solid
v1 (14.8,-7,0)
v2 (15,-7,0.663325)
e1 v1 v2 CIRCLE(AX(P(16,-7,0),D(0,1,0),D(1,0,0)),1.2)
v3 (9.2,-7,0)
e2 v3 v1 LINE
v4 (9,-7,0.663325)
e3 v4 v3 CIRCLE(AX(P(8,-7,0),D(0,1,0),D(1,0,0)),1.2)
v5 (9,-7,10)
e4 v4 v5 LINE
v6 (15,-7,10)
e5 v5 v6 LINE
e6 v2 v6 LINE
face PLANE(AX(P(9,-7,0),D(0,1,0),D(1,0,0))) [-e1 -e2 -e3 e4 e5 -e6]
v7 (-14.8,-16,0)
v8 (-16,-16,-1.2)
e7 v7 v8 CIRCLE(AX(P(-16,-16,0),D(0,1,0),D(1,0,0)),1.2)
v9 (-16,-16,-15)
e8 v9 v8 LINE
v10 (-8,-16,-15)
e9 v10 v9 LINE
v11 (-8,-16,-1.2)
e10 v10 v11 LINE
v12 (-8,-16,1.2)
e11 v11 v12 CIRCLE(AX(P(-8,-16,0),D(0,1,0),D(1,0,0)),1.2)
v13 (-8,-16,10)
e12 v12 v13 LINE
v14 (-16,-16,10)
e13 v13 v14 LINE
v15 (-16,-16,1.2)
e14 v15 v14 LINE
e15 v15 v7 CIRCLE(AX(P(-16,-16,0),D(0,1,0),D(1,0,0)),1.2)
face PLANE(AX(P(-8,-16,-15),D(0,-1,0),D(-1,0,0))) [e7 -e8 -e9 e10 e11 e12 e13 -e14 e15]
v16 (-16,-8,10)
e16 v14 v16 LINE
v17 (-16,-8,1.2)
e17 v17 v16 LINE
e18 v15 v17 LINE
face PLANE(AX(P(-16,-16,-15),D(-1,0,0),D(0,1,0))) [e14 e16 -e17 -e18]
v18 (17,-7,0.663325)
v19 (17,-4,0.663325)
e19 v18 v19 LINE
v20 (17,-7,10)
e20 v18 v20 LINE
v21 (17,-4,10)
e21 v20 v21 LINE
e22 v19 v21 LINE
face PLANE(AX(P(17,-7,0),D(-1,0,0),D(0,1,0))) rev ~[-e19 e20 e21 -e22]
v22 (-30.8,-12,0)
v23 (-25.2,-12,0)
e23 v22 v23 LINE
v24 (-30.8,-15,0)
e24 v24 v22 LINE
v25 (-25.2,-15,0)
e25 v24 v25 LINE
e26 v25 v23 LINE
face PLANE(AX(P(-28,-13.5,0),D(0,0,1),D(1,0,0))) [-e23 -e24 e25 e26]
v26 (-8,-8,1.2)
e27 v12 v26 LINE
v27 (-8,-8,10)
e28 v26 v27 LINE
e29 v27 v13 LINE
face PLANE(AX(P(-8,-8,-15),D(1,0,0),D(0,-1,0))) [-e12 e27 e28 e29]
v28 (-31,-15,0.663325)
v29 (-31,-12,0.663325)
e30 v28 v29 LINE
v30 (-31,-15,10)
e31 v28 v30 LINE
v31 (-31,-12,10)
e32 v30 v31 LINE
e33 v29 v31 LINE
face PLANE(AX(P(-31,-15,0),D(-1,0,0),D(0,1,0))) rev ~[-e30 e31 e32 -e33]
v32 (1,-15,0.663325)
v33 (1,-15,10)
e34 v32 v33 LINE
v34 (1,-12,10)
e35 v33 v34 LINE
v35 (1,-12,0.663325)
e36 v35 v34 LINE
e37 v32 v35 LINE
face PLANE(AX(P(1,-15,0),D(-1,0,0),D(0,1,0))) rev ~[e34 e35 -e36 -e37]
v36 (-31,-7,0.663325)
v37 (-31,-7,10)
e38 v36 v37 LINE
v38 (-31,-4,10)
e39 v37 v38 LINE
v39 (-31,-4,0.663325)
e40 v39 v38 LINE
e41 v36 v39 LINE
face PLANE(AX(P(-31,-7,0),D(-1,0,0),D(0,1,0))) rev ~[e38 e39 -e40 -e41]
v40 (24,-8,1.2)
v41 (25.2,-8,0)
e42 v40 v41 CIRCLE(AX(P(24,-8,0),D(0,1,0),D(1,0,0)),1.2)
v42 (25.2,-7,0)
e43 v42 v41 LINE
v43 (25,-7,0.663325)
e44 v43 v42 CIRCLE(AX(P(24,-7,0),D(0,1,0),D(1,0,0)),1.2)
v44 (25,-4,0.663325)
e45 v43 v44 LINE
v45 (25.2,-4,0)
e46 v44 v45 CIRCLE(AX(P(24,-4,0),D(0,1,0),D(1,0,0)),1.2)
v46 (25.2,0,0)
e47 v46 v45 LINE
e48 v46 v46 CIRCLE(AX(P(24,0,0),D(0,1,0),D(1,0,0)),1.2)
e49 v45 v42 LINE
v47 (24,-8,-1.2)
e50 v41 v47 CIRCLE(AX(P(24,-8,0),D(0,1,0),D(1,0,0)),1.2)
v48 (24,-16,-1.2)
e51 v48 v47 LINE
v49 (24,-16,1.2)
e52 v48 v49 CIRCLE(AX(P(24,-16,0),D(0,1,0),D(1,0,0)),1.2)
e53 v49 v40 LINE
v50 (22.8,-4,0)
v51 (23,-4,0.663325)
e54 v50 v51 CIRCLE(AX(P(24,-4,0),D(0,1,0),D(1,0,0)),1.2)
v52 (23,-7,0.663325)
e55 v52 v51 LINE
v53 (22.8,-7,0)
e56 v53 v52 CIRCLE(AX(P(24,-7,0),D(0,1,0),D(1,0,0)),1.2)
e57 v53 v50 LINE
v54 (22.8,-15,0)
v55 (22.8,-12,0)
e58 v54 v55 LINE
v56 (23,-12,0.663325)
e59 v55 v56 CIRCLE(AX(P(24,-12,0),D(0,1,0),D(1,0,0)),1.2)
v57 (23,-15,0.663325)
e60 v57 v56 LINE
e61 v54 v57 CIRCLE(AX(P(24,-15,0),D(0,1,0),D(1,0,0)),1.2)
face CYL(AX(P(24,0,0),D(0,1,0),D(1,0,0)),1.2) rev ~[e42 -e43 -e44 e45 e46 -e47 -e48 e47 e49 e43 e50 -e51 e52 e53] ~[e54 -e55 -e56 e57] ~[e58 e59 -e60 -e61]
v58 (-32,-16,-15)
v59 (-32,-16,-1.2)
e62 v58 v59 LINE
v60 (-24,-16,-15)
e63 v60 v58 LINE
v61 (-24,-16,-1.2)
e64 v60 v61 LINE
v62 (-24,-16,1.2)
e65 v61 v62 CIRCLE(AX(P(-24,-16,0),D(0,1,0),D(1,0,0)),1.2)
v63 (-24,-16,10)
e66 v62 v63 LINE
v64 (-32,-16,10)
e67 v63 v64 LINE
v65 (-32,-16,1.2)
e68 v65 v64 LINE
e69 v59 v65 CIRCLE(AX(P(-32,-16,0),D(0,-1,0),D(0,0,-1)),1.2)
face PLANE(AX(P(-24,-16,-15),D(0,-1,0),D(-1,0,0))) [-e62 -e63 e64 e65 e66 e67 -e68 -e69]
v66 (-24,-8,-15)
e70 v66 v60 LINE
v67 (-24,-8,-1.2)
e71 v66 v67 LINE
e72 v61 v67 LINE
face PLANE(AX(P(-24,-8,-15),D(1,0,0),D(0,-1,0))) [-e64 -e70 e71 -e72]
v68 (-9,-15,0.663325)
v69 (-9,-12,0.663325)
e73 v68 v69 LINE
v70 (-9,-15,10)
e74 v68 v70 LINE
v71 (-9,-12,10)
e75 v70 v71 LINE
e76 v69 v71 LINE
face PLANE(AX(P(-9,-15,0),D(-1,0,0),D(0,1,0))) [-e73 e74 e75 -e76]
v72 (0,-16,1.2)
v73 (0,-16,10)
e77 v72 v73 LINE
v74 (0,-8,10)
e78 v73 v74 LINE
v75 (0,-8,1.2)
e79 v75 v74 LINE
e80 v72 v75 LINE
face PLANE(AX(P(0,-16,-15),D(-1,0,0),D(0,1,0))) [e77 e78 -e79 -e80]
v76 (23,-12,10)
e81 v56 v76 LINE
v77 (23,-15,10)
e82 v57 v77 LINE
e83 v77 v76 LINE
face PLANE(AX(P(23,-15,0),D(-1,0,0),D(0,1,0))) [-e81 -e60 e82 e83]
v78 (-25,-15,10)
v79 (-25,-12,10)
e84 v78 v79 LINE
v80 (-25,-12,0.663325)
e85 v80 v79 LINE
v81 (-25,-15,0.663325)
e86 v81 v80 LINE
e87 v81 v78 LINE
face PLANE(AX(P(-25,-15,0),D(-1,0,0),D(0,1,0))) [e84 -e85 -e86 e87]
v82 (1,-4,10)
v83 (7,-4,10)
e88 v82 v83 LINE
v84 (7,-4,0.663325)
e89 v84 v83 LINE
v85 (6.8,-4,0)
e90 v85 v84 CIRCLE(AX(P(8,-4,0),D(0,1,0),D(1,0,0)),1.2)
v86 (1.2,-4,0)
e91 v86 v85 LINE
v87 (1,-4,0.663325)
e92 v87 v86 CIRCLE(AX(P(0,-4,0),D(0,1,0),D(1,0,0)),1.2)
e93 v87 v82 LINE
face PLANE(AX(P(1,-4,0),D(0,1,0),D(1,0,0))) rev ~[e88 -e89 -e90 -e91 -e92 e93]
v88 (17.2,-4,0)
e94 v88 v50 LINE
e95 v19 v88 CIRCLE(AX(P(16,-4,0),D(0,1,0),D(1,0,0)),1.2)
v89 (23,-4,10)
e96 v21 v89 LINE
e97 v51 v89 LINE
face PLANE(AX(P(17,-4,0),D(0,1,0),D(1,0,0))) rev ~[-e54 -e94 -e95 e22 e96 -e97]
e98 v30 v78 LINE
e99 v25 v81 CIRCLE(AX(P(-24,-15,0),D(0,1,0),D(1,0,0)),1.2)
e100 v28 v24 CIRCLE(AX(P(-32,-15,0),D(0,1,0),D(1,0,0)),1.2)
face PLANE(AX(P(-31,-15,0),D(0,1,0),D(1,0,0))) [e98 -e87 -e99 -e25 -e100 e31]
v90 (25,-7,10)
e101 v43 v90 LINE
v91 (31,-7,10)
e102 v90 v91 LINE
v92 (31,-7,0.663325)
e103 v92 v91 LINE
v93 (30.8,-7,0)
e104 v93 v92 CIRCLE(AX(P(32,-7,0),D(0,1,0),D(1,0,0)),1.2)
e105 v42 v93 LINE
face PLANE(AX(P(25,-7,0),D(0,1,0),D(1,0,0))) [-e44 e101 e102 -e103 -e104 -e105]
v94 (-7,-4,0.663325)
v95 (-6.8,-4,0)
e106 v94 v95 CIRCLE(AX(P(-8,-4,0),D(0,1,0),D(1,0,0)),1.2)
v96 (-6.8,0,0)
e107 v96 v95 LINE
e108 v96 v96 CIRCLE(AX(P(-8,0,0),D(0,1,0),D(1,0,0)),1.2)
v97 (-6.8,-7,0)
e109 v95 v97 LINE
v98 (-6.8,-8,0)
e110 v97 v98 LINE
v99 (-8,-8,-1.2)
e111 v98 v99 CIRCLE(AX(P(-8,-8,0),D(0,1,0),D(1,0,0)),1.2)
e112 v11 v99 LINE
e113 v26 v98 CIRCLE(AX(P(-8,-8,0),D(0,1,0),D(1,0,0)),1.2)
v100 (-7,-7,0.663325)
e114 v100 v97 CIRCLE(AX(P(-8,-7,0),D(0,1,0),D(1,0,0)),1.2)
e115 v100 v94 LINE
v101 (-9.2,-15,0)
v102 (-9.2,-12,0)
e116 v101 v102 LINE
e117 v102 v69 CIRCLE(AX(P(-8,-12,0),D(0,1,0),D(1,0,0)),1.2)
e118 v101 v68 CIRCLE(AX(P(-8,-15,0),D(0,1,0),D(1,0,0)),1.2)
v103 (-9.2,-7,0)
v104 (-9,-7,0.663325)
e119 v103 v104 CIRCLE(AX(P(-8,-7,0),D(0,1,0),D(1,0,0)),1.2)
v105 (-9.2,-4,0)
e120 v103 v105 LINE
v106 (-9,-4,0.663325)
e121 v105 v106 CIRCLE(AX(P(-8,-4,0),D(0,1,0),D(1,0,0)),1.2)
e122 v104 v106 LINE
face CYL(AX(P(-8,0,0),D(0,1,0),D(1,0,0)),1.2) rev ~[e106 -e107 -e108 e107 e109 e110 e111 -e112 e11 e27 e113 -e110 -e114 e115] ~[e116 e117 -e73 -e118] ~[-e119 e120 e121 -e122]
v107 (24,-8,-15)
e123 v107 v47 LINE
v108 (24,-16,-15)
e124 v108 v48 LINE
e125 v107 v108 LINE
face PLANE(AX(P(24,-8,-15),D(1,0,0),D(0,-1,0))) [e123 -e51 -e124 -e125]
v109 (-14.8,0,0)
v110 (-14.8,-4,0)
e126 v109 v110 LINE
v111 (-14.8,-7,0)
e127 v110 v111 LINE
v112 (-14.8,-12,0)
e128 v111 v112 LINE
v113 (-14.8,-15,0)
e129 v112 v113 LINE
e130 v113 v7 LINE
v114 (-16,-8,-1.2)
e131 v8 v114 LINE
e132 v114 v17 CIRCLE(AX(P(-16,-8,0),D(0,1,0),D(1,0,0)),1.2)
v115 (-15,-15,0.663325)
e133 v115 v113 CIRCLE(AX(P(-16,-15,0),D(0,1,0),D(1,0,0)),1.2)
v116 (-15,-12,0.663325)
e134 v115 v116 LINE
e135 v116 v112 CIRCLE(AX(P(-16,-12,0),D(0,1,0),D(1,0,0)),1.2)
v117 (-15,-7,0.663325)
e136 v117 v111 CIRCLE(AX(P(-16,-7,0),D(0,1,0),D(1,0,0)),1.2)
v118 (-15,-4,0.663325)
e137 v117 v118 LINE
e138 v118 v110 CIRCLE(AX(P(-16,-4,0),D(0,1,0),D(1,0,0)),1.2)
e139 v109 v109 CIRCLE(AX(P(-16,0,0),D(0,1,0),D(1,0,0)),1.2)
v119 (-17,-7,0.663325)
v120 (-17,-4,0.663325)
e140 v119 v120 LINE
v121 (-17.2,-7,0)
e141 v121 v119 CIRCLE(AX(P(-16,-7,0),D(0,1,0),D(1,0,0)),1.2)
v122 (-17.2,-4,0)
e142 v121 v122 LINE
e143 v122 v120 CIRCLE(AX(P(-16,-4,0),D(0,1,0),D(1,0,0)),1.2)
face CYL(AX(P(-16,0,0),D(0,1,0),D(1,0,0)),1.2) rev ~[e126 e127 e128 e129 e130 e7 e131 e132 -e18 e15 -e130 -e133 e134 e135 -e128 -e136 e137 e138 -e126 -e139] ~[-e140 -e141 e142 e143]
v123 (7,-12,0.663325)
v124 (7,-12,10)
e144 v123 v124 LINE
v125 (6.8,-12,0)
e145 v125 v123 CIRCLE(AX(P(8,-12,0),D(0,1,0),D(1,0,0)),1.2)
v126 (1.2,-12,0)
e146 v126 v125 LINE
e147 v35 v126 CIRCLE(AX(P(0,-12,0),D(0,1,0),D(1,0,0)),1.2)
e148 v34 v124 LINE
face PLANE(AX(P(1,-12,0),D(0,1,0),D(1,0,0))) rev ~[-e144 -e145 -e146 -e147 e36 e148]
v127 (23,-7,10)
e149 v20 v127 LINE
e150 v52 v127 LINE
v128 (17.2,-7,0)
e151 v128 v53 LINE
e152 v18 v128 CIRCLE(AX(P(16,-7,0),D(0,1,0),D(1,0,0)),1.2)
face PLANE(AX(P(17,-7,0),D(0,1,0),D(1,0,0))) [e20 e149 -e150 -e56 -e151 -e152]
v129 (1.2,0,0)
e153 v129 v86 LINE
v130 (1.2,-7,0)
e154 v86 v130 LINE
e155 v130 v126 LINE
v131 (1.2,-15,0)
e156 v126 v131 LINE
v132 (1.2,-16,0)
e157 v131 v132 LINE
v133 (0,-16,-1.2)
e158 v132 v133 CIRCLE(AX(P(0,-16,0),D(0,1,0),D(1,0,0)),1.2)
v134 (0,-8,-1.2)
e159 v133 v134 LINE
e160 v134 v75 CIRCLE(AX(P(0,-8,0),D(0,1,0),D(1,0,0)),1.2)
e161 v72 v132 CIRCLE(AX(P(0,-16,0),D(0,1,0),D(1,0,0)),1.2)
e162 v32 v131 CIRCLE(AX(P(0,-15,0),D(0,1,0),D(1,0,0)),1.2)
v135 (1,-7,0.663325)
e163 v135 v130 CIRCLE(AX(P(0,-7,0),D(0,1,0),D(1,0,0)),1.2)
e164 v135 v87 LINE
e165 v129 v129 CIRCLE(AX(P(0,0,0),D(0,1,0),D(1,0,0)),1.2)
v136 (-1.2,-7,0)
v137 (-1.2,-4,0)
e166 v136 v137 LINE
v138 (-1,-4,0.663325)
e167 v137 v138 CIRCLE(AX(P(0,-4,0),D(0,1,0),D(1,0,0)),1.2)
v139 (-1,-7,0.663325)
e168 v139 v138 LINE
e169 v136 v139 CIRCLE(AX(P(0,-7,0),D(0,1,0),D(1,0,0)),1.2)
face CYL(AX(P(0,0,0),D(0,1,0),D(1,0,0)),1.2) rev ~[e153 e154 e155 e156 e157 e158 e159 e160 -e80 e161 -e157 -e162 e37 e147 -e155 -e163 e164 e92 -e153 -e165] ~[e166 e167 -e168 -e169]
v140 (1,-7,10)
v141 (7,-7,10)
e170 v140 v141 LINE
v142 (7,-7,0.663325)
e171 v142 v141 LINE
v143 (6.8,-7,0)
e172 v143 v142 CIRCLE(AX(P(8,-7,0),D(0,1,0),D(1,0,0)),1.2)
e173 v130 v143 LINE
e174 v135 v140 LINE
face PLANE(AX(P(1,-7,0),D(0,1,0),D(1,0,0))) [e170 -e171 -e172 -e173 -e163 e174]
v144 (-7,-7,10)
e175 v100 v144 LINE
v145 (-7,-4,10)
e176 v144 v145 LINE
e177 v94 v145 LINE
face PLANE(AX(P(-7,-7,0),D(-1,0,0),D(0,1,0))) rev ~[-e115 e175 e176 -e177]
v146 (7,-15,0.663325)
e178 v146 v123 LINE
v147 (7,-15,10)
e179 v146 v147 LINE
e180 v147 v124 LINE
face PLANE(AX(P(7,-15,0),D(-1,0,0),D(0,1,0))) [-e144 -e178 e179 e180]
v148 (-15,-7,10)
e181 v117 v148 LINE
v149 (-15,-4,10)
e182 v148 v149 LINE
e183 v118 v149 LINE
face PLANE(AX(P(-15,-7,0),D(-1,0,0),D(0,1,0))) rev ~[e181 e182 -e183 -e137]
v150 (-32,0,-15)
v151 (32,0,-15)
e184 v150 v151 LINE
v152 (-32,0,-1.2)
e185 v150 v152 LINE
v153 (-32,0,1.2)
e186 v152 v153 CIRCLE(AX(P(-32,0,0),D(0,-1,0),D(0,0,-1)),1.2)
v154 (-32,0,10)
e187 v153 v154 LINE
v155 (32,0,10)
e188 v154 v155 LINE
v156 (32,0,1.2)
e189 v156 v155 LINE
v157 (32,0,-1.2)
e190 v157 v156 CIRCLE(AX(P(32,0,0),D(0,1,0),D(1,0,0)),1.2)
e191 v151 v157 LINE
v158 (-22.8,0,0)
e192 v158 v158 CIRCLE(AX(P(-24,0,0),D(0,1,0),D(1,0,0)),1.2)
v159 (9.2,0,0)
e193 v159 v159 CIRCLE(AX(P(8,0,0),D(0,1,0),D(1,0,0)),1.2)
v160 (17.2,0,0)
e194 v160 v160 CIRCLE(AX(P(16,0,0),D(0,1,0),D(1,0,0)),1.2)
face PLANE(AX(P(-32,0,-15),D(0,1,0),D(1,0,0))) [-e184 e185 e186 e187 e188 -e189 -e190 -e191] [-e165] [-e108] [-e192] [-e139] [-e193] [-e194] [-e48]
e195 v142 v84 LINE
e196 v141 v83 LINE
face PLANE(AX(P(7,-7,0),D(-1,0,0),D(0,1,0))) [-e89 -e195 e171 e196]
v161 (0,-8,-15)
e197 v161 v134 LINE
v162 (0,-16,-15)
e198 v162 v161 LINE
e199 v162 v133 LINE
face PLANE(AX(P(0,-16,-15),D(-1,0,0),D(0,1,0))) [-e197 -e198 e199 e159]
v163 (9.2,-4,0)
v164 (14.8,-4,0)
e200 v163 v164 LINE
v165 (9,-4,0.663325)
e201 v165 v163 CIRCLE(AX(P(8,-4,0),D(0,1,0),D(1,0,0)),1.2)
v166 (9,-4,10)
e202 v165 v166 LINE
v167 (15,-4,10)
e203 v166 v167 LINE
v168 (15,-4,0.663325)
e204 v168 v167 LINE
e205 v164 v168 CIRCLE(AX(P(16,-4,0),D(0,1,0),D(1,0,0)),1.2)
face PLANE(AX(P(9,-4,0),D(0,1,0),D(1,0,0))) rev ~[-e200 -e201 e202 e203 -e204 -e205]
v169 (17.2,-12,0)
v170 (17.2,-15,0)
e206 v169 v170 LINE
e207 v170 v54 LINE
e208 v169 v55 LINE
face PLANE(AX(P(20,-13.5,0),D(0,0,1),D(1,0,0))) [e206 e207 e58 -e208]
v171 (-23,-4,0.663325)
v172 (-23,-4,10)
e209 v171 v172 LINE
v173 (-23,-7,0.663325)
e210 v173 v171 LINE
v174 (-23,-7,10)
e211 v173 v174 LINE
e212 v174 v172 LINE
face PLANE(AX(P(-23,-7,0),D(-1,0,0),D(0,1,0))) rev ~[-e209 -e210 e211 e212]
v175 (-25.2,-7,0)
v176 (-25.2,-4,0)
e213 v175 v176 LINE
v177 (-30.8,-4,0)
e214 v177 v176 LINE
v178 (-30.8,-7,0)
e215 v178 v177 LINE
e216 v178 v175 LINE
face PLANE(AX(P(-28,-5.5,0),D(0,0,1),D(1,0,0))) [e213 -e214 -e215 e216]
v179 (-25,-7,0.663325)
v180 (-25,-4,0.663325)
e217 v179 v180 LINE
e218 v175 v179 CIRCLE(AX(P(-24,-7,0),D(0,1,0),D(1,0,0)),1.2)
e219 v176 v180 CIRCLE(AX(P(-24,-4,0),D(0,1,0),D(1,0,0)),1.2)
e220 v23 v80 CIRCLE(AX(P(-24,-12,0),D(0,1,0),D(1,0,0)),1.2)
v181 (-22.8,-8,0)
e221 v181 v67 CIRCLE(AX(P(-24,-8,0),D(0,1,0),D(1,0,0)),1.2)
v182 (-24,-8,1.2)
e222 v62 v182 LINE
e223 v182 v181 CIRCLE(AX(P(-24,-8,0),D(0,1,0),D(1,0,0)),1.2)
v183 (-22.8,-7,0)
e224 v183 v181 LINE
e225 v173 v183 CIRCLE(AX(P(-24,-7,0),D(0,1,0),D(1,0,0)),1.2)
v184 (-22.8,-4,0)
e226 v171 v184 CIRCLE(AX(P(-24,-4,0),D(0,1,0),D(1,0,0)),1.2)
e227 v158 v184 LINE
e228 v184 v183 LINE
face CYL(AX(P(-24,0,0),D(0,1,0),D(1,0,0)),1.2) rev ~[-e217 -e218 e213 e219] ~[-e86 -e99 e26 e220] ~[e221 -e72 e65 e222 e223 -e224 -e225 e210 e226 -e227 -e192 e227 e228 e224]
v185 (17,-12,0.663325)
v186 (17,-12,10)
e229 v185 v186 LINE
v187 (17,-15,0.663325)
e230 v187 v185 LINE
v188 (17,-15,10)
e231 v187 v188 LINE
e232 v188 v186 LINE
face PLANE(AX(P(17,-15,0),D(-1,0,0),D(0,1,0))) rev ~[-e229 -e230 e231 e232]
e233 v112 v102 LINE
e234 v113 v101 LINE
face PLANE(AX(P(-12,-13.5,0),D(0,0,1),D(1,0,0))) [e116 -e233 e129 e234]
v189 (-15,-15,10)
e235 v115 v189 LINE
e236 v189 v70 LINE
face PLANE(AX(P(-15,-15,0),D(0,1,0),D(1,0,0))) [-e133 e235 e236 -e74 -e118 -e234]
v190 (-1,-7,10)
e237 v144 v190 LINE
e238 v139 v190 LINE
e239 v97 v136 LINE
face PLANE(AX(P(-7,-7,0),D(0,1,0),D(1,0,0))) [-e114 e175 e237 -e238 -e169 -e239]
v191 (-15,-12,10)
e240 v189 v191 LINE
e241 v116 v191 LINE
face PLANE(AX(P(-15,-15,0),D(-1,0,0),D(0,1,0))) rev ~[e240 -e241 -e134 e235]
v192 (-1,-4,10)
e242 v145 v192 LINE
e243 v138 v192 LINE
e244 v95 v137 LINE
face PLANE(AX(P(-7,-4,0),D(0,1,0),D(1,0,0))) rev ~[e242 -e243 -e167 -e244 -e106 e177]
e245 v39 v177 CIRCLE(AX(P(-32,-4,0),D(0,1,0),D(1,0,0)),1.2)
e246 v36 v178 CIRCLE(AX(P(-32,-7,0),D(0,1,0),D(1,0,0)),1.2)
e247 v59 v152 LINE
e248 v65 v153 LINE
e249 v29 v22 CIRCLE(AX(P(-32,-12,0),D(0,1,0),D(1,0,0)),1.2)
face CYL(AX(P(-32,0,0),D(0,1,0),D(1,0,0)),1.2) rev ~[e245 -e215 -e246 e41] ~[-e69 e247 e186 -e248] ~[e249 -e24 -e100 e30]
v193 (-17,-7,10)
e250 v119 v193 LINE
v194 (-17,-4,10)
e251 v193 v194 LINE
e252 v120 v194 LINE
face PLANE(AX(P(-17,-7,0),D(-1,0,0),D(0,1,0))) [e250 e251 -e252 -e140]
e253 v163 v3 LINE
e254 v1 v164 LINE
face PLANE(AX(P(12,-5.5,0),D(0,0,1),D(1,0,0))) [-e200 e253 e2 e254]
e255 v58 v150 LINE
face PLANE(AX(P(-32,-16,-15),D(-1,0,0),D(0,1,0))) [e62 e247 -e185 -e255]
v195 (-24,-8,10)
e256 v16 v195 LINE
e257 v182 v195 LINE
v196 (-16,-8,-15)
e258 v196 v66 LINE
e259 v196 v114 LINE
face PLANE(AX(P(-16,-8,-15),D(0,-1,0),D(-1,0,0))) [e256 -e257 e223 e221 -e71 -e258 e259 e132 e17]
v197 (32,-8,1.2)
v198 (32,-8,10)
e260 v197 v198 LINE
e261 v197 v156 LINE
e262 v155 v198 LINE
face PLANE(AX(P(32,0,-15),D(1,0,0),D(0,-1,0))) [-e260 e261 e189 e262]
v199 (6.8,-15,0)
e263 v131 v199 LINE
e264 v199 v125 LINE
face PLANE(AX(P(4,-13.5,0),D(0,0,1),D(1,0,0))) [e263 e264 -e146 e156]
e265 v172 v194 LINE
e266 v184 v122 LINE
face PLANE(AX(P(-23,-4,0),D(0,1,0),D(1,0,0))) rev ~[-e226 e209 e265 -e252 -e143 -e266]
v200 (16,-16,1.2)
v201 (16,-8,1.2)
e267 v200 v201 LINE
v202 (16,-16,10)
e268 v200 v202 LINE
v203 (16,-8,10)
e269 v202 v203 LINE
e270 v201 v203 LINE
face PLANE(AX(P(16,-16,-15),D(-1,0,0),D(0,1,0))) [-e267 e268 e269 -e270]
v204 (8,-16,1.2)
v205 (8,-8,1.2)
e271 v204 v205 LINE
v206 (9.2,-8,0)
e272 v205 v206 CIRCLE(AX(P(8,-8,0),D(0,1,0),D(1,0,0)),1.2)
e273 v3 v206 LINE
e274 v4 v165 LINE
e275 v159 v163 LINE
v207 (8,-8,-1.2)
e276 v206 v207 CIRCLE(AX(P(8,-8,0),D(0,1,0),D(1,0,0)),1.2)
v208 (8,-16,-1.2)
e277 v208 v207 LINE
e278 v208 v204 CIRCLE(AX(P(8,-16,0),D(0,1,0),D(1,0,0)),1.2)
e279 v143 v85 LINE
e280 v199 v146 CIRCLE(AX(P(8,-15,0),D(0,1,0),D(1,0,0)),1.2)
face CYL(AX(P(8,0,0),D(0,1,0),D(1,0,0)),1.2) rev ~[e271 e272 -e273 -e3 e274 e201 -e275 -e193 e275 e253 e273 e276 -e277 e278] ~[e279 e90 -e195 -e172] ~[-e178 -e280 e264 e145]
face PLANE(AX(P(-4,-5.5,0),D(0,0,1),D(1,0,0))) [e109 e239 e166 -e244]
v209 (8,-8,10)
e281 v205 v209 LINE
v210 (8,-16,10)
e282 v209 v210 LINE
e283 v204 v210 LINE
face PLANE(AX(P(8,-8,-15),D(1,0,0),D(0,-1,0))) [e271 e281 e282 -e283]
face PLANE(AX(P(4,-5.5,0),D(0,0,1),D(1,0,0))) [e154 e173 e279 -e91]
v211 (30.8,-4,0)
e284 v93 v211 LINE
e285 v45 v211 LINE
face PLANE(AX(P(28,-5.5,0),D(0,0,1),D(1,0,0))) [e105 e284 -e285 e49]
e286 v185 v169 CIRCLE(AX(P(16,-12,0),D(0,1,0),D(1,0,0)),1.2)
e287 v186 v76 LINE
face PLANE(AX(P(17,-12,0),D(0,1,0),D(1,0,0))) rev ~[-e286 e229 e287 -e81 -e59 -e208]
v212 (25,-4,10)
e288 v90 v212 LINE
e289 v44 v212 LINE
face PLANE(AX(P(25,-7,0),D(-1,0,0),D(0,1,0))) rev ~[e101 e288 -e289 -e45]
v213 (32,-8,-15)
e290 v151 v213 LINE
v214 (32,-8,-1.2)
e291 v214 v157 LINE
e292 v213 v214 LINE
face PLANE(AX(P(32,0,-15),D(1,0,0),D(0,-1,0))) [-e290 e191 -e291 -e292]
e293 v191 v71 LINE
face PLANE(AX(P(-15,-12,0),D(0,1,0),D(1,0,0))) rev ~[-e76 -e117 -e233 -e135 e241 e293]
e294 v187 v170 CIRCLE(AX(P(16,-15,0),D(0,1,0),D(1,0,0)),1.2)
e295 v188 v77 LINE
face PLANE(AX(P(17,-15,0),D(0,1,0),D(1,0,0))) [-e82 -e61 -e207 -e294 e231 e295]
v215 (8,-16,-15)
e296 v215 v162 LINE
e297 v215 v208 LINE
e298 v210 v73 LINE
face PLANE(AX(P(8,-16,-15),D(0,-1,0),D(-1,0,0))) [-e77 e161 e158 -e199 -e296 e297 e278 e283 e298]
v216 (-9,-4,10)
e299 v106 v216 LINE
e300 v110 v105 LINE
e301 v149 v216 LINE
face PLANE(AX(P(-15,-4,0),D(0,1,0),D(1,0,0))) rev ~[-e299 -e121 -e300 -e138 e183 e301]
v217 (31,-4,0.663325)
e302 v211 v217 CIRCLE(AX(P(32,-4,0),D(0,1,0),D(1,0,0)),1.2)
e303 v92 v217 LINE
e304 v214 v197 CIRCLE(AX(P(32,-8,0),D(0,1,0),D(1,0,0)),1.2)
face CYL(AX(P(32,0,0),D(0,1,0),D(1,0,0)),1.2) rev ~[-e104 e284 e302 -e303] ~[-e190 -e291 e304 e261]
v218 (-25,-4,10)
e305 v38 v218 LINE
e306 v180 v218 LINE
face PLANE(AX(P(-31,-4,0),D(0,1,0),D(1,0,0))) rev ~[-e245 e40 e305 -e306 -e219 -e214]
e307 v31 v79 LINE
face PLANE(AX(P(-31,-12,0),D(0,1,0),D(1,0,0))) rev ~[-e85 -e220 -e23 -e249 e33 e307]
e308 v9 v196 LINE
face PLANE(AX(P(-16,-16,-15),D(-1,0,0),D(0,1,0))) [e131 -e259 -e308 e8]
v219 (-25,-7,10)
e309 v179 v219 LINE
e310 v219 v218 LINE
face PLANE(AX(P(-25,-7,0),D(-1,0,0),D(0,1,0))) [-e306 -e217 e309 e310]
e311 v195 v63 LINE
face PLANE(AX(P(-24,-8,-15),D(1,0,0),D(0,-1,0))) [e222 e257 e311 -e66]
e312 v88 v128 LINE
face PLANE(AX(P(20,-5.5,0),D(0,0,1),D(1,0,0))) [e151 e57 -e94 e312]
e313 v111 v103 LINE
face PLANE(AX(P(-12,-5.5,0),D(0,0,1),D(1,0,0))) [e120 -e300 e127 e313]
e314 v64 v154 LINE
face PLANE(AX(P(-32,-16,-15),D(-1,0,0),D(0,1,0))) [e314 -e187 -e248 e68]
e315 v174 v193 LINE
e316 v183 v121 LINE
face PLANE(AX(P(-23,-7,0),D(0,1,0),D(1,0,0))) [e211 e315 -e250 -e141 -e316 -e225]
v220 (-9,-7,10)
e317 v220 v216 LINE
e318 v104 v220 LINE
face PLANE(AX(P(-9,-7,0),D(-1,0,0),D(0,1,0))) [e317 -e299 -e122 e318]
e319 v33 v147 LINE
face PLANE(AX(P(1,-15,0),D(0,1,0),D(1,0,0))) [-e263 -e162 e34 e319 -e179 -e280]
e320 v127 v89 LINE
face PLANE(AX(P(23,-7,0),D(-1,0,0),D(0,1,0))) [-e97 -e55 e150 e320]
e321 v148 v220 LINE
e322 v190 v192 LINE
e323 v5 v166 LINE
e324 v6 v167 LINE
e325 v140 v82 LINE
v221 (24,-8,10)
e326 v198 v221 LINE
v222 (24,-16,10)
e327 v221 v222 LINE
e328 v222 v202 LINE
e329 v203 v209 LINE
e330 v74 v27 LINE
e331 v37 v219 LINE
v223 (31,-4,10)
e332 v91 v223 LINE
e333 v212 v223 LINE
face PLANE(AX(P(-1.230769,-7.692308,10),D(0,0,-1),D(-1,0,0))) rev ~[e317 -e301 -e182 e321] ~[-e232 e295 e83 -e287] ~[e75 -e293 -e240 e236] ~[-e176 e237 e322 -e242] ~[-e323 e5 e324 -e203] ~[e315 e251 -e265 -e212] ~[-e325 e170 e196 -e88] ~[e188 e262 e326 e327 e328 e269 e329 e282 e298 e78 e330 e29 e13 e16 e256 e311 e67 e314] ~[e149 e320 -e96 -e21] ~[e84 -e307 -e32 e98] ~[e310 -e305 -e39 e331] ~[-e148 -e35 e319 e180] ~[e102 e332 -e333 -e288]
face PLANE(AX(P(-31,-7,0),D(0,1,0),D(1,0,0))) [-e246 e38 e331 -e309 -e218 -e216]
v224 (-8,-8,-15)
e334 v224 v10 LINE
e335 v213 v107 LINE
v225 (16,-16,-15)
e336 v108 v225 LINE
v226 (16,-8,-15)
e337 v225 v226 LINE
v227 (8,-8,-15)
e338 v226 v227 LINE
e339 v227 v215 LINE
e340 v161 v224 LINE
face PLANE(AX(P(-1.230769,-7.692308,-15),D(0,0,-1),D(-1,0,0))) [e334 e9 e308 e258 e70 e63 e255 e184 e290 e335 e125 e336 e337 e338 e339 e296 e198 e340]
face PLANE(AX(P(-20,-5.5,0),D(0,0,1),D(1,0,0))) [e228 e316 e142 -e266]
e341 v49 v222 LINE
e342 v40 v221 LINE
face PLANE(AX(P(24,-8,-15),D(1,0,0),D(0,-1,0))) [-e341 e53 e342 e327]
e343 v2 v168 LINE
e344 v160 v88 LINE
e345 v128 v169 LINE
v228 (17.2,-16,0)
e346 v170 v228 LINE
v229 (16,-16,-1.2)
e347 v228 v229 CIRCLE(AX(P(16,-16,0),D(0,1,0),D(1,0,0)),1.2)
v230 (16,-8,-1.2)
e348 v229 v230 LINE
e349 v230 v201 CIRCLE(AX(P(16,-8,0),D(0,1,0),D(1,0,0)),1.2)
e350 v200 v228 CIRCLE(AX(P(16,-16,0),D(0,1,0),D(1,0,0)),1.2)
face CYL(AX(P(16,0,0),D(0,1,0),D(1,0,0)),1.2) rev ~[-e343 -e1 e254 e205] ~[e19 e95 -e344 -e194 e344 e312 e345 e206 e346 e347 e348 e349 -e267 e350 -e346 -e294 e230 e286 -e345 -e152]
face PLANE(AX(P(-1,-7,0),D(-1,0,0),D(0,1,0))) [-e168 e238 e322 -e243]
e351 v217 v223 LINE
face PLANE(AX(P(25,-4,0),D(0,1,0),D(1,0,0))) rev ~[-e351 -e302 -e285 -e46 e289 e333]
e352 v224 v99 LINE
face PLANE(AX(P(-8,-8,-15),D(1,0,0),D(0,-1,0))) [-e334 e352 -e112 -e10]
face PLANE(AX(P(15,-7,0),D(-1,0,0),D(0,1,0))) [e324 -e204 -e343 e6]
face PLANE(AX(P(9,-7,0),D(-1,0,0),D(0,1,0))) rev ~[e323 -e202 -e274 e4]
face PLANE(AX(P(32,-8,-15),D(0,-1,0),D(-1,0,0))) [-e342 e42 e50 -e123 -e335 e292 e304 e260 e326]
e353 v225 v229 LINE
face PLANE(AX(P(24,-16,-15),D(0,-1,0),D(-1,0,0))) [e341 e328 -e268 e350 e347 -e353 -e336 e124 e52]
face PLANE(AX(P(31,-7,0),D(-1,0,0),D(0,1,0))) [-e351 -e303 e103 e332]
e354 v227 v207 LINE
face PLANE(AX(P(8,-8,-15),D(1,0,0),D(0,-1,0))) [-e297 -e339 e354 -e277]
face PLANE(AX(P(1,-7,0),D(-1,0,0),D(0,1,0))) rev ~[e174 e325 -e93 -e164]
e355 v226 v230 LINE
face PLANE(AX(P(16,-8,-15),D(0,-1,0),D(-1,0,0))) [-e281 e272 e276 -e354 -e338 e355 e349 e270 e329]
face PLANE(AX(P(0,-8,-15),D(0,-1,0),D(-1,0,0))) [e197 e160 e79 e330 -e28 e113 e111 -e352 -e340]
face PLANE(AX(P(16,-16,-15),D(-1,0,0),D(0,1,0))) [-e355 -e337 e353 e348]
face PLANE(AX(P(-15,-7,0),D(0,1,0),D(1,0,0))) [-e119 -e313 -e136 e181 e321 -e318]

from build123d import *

# Parameters (mm, degrees)
BOSS_EXTRUDE1_DEPTH      = 10
BOSS_EXTRUDE1_DEPTH_BACK = 15
SKETCH2_R                = 1.2
CUT_EXTRUDE1_DEPTH       = 39.794329483
LPATTERN1_COUNT          = 9
LPATTERN1_PITCH          = 8
CUT_EXTRUDE2_START       = -10
SKETCH3_W                = 6
SKETCH3_H                = 3
CUT_EXTRUDE2_DEPTH       = 10
LPATTERN2_COUNT          = 8
LPATTERN2_PITCH          = 8
LPATTERN2_COUNT_DIR2     = 2
LPATTERN2_PITCH_DIR2     = 8


with BuildPart() as part:
    # Sketch1 → Boss-Extrude1 (new, two sides: drawn at the far end of the back side and taken through both)
    with BuildSketch(Plane.XY.offset(-BOSS_EXTRUDE1_DEPTH_BACK)):
        Polygon((-32, 0), (32, 0), (32, -8), (24, -8), (24, -16), (16, -16), (16, -8), (8, -8), (8, -16), (0, -16), (0, -8), (-8, -8), (-8, -16), (-16, -16), (-16, -8), (-24, -8), (-24, -16), (-32, -16), align=None)
    extrude(amount=BOSS_EXTRUDE1_DEPTH + BOSS_EXTRUDE1_DEPTH_BACK)

    # Sketch2 → Cut-Extrude1 (cut, through all)
    with BuildSketch(Plane(origin=(0, 0, 0), x_dir=(1, 0, 0), z_dir=(0, 1, 0))):
        with Locations((-32, 0)):
            Circle(SKETCH2_R)
    cut_extrude1 = extrude(amount=-CUT_EXTRUDE1_DEPTH, mode=Mode.SUBTRACT)

    # LPattern1: Cut-Extrude1 ×9
    with Locations(*[(i * LPATTERN1_PITCH, 0, 0) for i in range(1, LPATTERN1_COUNT)]):
        add(cut_extrude1, mode=Mode.SUBTRACT)

    # Sketch3 → Cut-Extrude2 (cut)
    with BuildSketch(Plane.XY.offset(10).offset(CUT_EXTRUDE2_START)):
        with Locations((-28, -5.5)):
            Rectangle(SKETCH3_W, SKETCH3_H)
    cut_extrude2 = extrude(amount=CUT_EXTRUDE2_DEPTH, mode=Mode.SUBTRACT)

    # LPattern2: Cut-Extrude2 8 × 2
    with Locations(*[(i * LPATTERN2_PITCH, -j * LPATTERN2_PITCH_DIR2, 0) for i in range(LPATTERN2_COUNT) for j in range(LPATTERN2_COUNT_DIR2) if (i, j) != (0, 0)]):
        add(cut_extrude2, mode=Mode.SUBTRACT)


solid = part.part
